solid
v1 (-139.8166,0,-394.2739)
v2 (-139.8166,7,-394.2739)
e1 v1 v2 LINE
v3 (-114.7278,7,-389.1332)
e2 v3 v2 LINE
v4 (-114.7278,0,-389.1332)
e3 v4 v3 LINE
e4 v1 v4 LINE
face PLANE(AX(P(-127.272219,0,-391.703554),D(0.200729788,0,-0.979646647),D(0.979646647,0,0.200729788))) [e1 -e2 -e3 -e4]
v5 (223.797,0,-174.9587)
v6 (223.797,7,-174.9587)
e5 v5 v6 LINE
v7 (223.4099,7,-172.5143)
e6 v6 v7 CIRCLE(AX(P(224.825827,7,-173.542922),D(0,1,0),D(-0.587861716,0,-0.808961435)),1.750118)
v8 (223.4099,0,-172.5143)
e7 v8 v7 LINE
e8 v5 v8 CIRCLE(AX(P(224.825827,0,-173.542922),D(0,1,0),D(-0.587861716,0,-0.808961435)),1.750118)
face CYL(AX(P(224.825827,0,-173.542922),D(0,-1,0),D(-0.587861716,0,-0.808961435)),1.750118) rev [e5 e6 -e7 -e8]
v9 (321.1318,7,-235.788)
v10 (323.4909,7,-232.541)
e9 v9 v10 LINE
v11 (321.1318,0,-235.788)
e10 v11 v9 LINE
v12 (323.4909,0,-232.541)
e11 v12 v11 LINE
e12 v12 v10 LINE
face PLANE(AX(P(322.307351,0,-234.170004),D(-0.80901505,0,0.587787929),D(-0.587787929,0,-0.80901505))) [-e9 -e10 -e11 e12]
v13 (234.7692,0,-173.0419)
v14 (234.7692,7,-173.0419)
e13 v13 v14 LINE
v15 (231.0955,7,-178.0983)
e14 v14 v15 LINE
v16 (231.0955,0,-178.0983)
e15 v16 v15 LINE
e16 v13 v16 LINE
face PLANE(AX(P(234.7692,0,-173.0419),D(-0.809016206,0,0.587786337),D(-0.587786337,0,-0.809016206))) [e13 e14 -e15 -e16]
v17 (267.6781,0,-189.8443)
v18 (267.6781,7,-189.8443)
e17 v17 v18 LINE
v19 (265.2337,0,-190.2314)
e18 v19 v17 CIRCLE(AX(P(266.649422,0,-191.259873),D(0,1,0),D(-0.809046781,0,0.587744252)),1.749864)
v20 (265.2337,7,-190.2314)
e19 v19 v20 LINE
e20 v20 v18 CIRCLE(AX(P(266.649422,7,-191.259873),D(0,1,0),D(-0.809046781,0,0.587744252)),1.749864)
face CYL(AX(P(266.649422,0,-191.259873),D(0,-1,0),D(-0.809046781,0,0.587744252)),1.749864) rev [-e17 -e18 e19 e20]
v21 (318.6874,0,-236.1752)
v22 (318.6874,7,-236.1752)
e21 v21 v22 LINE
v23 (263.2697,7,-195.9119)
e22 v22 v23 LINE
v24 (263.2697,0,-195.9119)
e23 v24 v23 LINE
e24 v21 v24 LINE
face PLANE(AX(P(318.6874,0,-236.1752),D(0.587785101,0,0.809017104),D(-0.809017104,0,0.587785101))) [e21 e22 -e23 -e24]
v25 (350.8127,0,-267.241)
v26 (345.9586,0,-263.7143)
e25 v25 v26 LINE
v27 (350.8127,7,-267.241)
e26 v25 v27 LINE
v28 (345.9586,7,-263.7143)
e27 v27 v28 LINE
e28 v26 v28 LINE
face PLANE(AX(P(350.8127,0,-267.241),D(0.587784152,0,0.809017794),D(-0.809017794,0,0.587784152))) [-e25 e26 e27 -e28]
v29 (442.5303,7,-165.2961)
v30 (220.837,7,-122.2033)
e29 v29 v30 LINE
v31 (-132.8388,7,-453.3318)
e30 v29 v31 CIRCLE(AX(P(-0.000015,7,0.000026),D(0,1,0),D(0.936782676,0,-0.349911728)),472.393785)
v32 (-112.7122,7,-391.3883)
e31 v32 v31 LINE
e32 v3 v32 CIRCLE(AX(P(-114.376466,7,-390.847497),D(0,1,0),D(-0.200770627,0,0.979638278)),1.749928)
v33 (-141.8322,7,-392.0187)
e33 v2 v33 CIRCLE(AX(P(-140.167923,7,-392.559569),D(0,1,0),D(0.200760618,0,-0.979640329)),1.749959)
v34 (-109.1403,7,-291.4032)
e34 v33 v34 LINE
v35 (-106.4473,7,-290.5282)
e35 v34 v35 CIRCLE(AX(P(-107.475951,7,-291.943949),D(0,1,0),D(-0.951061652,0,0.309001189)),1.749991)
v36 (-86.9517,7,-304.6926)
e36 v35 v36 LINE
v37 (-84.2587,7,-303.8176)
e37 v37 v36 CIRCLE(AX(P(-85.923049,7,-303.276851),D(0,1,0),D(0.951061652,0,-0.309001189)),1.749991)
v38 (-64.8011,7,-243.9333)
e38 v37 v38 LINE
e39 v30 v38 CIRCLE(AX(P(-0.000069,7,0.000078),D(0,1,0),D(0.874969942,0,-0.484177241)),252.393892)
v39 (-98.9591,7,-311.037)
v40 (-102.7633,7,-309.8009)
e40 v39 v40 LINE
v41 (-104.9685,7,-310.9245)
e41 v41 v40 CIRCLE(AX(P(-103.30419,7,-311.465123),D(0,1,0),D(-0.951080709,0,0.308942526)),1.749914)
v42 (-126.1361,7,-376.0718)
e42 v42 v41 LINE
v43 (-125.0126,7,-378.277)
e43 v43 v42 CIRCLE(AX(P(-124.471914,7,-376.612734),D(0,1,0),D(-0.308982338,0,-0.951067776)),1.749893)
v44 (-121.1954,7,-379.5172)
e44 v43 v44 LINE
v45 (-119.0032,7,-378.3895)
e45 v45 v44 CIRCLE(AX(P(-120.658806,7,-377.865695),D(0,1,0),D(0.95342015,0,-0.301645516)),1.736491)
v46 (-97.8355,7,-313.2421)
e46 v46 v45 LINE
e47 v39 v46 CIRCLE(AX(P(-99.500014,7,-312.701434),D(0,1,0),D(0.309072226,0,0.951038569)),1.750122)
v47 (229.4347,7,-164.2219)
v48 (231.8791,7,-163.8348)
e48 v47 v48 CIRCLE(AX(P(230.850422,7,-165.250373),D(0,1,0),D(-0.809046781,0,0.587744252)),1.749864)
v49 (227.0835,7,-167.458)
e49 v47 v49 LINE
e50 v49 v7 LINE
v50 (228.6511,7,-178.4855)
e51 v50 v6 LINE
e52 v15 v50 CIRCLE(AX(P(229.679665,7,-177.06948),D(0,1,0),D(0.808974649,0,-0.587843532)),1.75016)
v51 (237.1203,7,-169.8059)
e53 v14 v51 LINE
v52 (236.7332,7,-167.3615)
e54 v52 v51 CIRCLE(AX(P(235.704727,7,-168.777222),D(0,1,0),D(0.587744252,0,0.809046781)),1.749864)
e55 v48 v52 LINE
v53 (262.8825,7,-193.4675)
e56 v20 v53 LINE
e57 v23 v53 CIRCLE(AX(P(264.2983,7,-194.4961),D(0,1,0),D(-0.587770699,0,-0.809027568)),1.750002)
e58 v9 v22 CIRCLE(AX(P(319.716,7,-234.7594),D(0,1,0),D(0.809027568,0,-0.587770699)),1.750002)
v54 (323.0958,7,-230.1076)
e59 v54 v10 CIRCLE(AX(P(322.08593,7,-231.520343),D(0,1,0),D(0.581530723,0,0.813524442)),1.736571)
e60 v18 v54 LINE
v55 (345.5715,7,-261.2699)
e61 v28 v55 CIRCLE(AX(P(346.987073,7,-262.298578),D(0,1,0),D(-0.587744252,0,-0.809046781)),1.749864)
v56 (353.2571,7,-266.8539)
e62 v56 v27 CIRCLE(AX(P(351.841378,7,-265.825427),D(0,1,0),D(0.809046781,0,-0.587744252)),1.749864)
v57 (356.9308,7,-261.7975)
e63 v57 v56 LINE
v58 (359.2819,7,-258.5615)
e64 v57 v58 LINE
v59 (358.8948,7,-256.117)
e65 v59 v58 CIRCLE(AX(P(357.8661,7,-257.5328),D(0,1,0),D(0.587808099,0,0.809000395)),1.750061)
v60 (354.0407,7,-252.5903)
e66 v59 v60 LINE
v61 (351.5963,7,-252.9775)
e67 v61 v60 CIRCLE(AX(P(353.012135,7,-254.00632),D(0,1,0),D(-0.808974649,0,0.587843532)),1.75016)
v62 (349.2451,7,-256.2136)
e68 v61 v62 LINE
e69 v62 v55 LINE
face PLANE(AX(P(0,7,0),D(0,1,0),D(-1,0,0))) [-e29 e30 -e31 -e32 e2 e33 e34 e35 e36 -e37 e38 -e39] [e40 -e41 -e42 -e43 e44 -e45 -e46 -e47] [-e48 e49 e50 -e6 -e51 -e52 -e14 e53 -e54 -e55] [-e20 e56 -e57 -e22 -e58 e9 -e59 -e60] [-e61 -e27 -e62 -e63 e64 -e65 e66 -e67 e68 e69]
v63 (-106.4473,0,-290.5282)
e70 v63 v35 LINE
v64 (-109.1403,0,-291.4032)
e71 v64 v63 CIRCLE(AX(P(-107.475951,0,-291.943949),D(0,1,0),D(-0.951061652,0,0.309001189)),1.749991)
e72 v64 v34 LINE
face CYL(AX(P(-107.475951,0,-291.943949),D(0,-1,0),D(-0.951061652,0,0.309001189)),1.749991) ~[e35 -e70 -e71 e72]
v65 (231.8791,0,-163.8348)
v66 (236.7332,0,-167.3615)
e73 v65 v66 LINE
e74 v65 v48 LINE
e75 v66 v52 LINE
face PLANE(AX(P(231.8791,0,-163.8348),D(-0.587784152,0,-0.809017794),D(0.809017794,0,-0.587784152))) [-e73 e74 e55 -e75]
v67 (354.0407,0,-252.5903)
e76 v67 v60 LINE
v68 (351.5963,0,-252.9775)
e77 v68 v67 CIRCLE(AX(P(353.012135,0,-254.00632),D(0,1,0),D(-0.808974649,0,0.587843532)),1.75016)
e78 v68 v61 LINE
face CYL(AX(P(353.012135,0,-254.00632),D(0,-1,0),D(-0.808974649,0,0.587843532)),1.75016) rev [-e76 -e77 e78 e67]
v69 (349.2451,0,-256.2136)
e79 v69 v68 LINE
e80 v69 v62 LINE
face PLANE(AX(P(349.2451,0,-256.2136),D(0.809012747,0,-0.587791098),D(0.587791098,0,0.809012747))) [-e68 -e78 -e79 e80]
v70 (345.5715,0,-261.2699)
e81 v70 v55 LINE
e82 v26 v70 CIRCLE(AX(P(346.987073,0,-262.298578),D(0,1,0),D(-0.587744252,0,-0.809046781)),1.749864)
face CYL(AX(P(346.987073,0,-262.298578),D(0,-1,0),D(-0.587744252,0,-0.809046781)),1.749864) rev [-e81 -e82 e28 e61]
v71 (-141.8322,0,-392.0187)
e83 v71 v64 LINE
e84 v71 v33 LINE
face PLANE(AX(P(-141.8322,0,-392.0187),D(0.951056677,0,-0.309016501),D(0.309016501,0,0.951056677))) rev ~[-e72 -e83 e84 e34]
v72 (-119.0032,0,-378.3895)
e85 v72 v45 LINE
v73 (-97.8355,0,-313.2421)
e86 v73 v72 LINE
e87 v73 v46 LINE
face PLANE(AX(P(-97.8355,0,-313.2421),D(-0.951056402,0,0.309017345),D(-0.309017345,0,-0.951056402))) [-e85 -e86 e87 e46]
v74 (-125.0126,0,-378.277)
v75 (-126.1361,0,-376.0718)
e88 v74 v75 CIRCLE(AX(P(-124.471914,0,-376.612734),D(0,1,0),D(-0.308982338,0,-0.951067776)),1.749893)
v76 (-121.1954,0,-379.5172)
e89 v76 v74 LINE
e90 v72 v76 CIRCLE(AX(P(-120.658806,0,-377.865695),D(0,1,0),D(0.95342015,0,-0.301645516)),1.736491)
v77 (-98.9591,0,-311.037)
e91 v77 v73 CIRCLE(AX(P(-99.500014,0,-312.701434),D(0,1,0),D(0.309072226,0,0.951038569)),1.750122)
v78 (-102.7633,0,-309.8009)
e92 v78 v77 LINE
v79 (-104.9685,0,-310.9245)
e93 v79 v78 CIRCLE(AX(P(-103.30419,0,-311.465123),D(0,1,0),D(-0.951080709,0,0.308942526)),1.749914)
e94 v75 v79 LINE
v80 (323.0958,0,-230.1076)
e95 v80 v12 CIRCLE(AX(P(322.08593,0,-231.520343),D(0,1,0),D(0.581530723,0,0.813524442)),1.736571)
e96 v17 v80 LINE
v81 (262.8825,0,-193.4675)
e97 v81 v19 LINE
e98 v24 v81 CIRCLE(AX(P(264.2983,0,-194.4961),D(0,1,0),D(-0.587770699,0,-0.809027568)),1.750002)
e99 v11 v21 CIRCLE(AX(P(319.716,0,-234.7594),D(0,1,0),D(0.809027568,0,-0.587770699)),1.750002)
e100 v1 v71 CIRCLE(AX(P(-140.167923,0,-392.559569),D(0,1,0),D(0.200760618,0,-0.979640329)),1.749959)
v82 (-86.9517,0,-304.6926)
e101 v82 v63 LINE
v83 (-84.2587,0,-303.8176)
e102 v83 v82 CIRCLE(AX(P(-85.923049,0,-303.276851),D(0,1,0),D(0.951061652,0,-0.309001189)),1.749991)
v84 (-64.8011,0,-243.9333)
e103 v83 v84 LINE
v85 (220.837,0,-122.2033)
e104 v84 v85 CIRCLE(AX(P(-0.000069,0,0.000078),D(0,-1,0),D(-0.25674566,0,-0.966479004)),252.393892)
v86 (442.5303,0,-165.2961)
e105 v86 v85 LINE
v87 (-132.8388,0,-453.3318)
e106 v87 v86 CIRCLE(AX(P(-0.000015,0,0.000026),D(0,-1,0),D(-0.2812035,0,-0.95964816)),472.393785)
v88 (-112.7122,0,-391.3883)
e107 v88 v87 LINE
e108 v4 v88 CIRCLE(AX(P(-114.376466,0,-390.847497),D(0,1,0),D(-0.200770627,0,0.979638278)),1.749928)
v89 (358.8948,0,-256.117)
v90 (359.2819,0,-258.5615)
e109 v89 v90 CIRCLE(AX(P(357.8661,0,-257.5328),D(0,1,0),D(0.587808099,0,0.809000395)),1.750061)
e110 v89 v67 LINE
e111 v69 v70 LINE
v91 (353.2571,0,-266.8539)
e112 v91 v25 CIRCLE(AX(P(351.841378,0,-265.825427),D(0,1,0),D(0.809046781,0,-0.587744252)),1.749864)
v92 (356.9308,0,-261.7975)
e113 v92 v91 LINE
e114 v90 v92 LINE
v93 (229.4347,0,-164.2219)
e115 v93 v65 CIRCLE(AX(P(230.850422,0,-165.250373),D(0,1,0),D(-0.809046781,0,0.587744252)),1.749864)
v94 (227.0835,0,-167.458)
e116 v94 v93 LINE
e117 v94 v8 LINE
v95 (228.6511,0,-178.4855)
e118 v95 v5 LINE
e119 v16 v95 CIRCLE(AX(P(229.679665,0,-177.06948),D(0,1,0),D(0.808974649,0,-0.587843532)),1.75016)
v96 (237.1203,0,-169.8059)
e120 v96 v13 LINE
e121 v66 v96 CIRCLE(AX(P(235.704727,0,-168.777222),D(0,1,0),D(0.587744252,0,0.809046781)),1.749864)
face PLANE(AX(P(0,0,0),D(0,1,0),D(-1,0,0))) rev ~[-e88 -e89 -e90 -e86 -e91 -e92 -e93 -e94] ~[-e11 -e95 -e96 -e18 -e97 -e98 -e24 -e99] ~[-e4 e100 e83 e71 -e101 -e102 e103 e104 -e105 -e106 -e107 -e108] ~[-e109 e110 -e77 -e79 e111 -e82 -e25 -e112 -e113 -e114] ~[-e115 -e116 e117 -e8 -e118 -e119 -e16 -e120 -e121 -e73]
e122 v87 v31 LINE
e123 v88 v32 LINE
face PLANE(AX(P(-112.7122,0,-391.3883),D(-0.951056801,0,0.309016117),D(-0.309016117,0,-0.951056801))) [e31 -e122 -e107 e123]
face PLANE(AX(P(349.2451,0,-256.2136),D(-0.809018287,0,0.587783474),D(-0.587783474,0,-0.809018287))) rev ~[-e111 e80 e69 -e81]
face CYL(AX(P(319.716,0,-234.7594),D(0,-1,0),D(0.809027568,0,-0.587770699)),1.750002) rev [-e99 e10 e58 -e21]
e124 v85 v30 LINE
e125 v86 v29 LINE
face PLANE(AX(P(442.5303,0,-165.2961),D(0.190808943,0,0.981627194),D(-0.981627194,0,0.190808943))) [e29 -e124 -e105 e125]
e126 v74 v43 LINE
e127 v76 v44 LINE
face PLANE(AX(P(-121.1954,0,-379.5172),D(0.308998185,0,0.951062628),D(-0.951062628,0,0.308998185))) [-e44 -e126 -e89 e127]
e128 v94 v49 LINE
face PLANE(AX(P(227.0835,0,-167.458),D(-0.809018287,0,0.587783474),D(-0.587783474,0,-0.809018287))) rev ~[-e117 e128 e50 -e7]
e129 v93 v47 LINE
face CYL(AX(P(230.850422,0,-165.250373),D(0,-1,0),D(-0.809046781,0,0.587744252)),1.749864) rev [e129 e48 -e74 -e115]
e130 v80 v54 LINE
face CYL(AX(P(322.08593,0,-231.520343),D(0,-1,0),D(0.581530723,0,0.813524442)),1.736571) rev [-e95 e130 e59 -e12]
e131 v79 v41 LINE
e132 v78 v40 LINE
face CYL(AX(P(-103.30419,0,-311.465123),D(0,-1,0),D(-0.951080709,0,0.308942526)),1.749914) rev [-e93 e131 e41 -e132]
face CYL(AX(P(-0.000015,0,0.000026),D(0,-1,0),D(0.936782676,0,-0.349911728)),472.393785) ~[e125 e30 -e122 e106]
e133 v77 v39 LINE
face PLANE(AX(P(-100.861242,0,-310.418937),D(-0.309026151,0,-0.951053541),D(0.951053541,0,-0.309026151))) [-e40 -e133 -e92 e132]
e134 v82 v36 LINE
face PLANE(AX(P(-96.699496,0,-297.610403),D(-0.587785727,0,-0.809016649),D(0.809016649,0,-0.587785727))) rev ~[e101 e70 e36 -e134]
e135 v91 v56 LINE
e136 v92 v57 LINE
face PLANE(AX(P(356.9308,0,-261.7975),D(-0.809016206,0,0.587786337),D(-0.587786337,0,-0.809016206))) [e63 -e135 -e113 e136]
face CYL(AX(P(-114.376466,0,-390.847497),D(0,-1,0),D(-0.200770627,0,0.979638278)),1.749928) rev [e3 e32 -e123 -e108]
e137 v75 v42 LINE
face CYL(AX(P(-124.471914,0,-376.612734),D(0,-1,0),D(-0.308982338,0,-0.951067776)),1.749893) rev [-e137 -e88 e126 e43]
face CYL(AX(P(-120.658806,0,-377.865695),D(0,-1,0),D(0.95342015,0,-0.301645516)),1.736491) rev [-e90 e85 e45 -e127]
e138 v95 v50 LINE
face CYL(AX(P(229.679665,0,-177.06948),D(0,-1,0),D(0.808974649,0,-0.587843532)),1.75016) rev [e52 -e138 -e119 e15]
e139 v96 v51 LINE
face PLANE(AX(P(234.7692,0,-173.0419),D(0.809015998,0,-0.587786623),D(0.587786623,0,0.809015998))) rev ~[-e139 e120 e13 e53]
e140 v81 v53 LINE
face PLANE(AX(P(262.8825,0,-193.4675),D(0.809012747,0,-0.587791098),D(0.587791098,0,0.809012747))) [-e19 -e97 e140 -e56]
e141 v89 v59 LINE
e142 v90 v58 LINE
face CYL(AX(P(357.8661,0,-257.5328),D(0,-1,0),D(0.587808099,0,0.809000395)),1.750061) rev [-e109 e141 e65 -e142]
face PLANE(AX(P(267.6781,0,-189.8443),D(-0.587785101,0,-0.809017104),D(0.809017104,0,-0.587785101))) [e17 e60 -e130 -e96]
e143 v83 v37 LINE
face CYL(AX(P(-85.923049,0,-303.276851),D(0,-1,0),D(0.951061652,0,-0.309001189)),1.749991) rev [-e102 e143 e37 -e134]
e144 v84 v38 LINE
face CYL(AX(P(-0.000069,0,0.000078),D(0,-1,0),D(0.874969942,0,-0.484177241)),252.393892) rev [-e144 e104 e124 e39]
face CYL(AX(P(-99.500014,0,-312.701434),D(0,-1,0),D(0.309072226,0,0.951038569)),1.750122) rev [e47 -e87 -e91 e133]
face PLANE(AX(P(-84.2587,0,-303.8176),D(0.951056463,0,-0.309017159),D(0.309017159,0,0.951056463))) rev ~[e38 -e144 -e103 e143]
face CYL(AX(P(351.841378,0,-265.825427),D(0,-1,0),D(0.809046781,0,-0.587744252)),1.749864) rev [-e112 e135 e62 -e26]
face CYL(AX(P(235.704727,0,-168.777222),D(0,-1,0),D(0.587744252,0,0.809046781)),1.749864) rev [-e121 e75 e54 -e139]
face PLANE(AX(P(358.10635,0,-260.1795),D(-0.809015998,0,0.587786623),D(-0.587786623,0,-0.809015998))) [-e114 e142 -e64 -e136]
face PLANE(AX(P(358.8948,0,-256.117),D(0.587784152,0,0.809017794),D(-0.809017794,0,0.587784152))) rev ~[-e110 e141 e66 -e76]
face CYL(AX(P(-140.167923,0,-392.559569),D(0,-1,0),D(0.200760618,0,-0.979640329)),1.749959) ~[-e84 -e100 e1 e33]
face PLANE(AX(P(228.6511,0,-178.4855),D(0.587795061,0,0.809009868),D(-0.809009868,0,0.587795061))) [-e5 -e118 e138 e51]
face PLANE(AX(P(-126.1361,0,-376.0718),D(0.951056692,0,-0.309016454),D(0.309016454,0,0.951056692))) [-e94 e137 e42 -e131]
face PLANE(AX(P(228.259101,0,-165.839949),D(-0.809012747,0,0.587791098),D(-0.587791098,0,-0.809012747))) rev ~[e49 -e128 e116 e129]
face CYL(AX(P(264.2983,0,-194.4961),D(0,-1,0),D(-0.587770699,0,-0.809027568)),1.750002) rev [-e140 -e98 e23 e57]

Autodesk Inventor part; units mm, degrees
ref_plane "YZ Plane" through (0, 0, 0) normal (1, 0, 0) x (0, 1, 0)
ref_plane "XZ Plane" through (0, 0, 0) normal (0, 1, 0) x (-1, 0, 0)
ref_plane "XY Plane" through (0, 0, 0) normal (0, 0, 1) x (1, 0, 0)
sketch "Sketch1" plane through (0, 0, 0) normal (0, 1, 0) x (-1, 0, 0)
  line L0 (0, 0) -> (618.9442, 0)
  line L1 (0, 0) -> (191.2643, 588.6509)
  line L2 (0, 0) -> (-500.7364, 363.8063)
  line L3 (0, 0) -> (-500.7364, -363.8063)
  line L4 (0, 0) -> (191.2643, -588.6509)
  line L5 (396.6438, 3.75) -> (328.1438, 3.75)
  line L6 (328.1438, -3.75) -> (396.6438, -3.75)
  arc A0 (472.3938, 0) -> (145.9777, 449.2732) centre (0, 0) ccw
  arc A1 (77.994, -240.0408) -> (252.3938, 0) centre (0, 0) ccw
  line L7 (289.8938, 3.75) -> (283.8938, 3.75)
  line L8 (283.8938, -3.75) -> (289.8938, -3.75)
  arc A2 (328.1438, 3.75) -> (326.3938, 2) centre (328.1438, 2) ccw
  arc A3 (326.3938, -2) -> (328.1438, -3.75) centre (328.1438, -2) ccw
  line L9 (326.3938, 2) -> (326.3938, -2)
  arc A4 (398.3938, 2) -> (396.6438, 3.75) centre (396.6438, 2) ccw
  arc A5 (396.6438, -3.75) -> (398.3938, -2.0136) centre (396.6573, -2.0136) ccw
  line L10 (398.3938, -2.0136) -> (398.3938, 2)
  line L11 (362.3938, -3.75) -> (362.3938, 32.9806)
  arc A6 (283.8938, 3.75) -> (282.1438, 2) centre (283.8938, 2) ccw
  arc A7 (282.1438, -2) -> (283.8938, -3.75) centre (283.8938, -2) ccw
  arc A8 (289.8938, -3.75) -> (291.6438, -2) centre (289.8938, -2) ccw
  arc A9 (291.6438, 2) -> (289.8938, 3.75) centre (289.8938, 2) ccw
  line L12 (291.6438, 2) -> (291.6438, -2)
  line L13 (282.1438, -2) -> (282.1438, 2)
  line L14 (434.8938, 3.75) -> (440.8938, 3.75)
  line L15 (440.8938, -3.75) -> (434.8938, -3.75)
  arc A10 (442.6438, 2) -> (440.8938, 3.75) centre (440.8938, 2) ccw
  arc A11 (440.8938, -3.75) -> (442.6438, -2) centre (440.8938, -2) ccw
  arc A12 (433.1438, -2) -> (434.8938, -3.75) centre (434.8938, -2) ccw
  arc A13 (434.8938, 3.75) -> (433.1438, 2) centre (434.8938, 2) ccw
  line L16 (433.1438, 2) -> (433.1438, -2)
  line L17 (442.6438, -2) -> (442.6438, 2)
  line L18 (131.9467, 412.5623) -> (135.7509, 411.3262)
  arc A14 (130.8231, 414.7674) -> (131.9467, 412.5623) centre (132.4875, 414.2266) ccw
  arc A15 (135.7509, 411.3262) -> (137.956, 412.4498) centre (136.2917, 412.9905) ccw
  line L19 (139.8101, 418.1561) -> (137.956, 412.4498)
  line L20 (130.8231, 414.7674) -> (132.6772, 420.4737)
  arc A16 (134.8823, 421.5973) -> (132.6772, 420.4737) centre (134.3416, 419.9329) ccw
  line L21 (138.6866, 420.3612) -> (134.8823, 421.5973)
  arc A17 (139.8101, 418.1561) -> (138.6866, 420.3612) centre (138.1458, 418.6969) ccw
  line L22 (125.0255, 378.2728) -> (121.2083, 379.513)
  arc A18 (121.2083, 379.513) -> (119.0032, 378.3895) centre (120.6676, 377.8487) ccw
  arc A19 (126.1361, 376.0718) -> (125.0255, 378.2728) centre (124.4888, 376.6213) ccw
  line L23 (119.0032, 378.3895) -> (97.8355, 313.2421)
  line L24 (98.9591, 311.037) -> (102.7633, 309.8009)
  arc A20 (97.8355, 313.2421) -> (98.9591, 311.037) centre (99.4999, 312.7013) ccw
  arc A21 (102.7633, 309.8009) -> (104.9685, 310.9245) centre (103.3041, 311.4652) ccw
  line L25 (104.9685, 310.9245) -> (126.1361, 376.0718)
  line L26 (88.2208, 277.9878) -> (92.025, 276.7517)
  arc A22 (93.1486, 274.5466) -> (92.025, 276.7517) centre (91.4842, 275.0873) ccw
  line L27 (91.2945, 268.8402) -> (93.1486, 274.5466)
  arc A23 (88.2208, 277.9878) -> (86.0156, 276.8642) centre (87.68, 276.3234) ccw
  line L28 (86.0156, 276.8642) -> (84.1615, 271.1578)
  arc A24 (84.1615, 271.1578) -> (85.2851, 268.9527) centre (85.8259, 270.6171) ccw
  arc A25 (89.0893, 267.7166) -> (91.2945, 268.8402) centre (89.6301, 269.381) ccw
  line L29 (89.0893, 267.7166) -> (85.2851, 268.9527)
  line L30 (-351.5963, 252.9775) -> (-349.2451, 256.2136)
  arc A26 (-354.0407, 252.5903) -> (-351.5963, 252.9775) centre (-353.012, 254.0061) ccw
  arc A27 (-349.2451, 256.2136) -> (-349.6323, 258.658) centre (-350.6609, 257.2422) ccw
  line L31 (-354.4864, 262.1847) -> (-349.6323, 258.658)
  line L32 (-354.0407, 252.5903) -> (-358.8948, 256.1171)
  arc A28 (-359.2819, 258.5615) -> (-358.8948, 256.1171) centre (-357.8661, 257.5328) ccw
  line L33 (-356.9308, 261.7975) -> (-359.2819, 258.5615)
  arc A29 (-354.4864, 262.1847) -> (-356.9308, 261.7975) centre (-355.515, 260.7689) ccw
  line L34 (-321.1238, 235.799) -> (-323.4829, 232.552)
  arc A30 (-323.4829, 232.552) -> (-323.0958, 230.1076) centre (-322.0671, 231.5233) ccw
  arc A31 (-318.6874, 236.1752) -> (-321.1238, 235.799) centre (-319.7189, 234.7783) ccw
  line L35 (-323.0958, 230.1076) -> (-267.6781, 189.8443)
  line L36 (-265.2337, 190.2314) -> (-262.8825, 193.4675)
  arc A32 (-267.6781, 189.8443) -> (-265.2337, 190.2314) centre (-266.6495, 191.26) ccw
  arc A33 (-262.8825, 193.4675) -> (-263.2697, 195.9119) centre (-264.2983, 194.4961) ccw
  line L37 (-263.2697, 195.9119) -> (-318.6874, 236.1752)
  line L38 (-237.1203, 169.8059) -> (-234.7692, 173.0419)
  arc A34 (-232.3248, 173.4291) -> (-234.7692, 173.0419) centre (-233.3534, 172.0133) ccw
  line L39 (-227.4707, 169.9024) -> (-232.3248, 173.4291)
  arc A35 (-237.1203, 169.8059) -> (-236.7332, 167.3615) centre (-235.7046, 168.7773) ccw
  line L40 (-236.7332, 167.3615) -> (-231.8791, 163.8348)
  arc A36 (-231.8791, 163.8348) -> (-229.4347, 164.2219) centre (-230.8505, 165.2505) ccw
  arc A37 (-227.0835, 167.458) -> (-227.4707, 169.9024) centre (-228.4993, 168.4866) ccw
  line L41 (-227.0835, 167.458) -> (-229.4347, 164.2219)
  line L42 (-349.2451, -256.2136) -> (-351.5963, -252.9775)
  arc A38 (-349.6323, -258.658) -> (-349.2451, -256.2136) centre (-350.6609, -257.2422) ccw
  arc A39 (-351.5963, -252.9775) -> (-354.0407, -252.5903) centre (-353.012, -254.0061) ccw
  line L43 (-358.8948, -256.117) -> (-354.0407, -252.5903)
  line L44 (-349.6323, -258.658) -> (-354.4864, -262.1847)
  arc A40 (-356.9308, -261.7975) -> (-354.4864, -262.1847) centre (-355.515, -260.7689) ccw
  line L45 (-359.2819, -258.5615) -> (-356.9308, -261.7975)
  arc A41 (-358.8948, -256.117) -> (-359.2819, -258.5615) centre (-357.8661, -257.5328) ccw
  line L46 (-323.4909, -232.541) -> (-321.1318, -235.788)
  arc A42 (-321.1318, -235.788) -> (-318.6874, -236.1752) centre (-319.716, -234.7594) ccw
  arc A43 (-323.0958, -230.1076) -> (-323.4909, -232.541) centre (-322.086, -231.5203) ccw
  line L47 (-318.6874, -236.1752) -> (-263.2697, -195.9119)
  line L48 (-262.8825, -193.4675) -> (-265.2337, -190.2314)
  arc A44 (-263.2697, -195.9119) -> (-262.8825, -193.4675) centre (-264.2983, -194.4961) ccw
  arc A45 (-265.2337, -190.2314) -> (-267.6781, -189.8443) centre (-266.6495, -191.26) ccw
  line L49 (-267.6781, -189.8443) -> (-323.0958, -230.1076)
  line L50 (-234.7692, -173.0419) -> (-237.1203, -169.8059)
  arc A46 (-236.7332, -167.3615) -> (-237.1203, -169.8059) centre (-235.7046, -168.7773) ccw
  line L51 (-231.8791, -163.8348) -> (-236.7332, -167.3615)
  arc A47 (-234.7692, -173.0419) -> (-232.3248, -173.4291) centre (-233.3534, -172.0133) ccw
  line L52 (-232.3248, -173.4291) -> (-227.4707, -169.9024)
  arc A48 (-227.4707, -169.9024) -> (-227.0835, -167.458) centre (-228.4993, -168.4866) ccw
  arc A49 (-229.4347, -164.2219) -> (-231.8791, -163.8348) centre (-230.8505, -165.2505) ccw
  line L53 (-229.4347, -164.2219) -> (-227.0835, -167.458)
  line L54 (135.7509, -411.3262) -> (131.9467, -412.5623)
  arc A50 (137.956, -412.4498) -> (135.7509, -411.3262) centre (136.2917, -412.9905) ccw
  arc A51 (131.9467, -412.5623) -> (130.8231, -414.7674) centre (132.4875, -414.2266) ccw
  line L55 (132.6772, -420.4737) -> (130.8231, -414.7674)
  line L56 (137.956, -412.4498) -> (139.8101, -418.1561)
  arc A52 (138.6866, -420.3612) -> (139.8101, -418.1561) centre (138.1458, -418.6969) ccw
  line L57 (134.8823, -421.5973) -> (138.6866, -420.3612)
  arc A53 (132.6772, -420.4737) -> (134.8823, -421.5973) centre (134.3416, -419.9329) ccw
  line L58 (121.1954, -379.5172) -> (125.0126, -378.277)
  arc A54 (125.0126, -378.277) -> (126.1361, -376.0718) centre (124.4718, -376.6126) ccw
  arc A55 (119.0032, -378.3895) -> (121.1954, -379.5172) centre (120.6588, -377.8657) ccw
  line L59 (126.1361, -376.0718) -> (104.9685, -310.9245)
  line L60 (102.7633, -309.8009) -> (98.9591, -311.037)
  arc A56 (104.9685, -310.9245) -> (102.7633, -309.8009) centre (103.3041, -311.4652) ccw
  arc A57 (98.9591, -311.037) -> (97.8355, -313.2421) centre (99.4999, -312.7013) ccw
  line L61 (97.8355, -313.2421) -> (119.0032, -378.3895)
  line L62 (92.025, -276.7517) -> (88.2208, -277.9878)
  arc A58 (86.0156, -276.8642) -> (88.2208, -277.9878) centre (87.68, -276.3234) ccw
  line L63 (84.1615, -271.1578) -> (86.0156, -276.8642)
  arc A59 (92.025, -276.7517) -> (93.1486, -274.5466) centre (91.4842, -275.0873) ccw
  line L64 (93.1486, -274.5466) -> (91.2945, -268.8402)
  arc A60 (91.2945, -268.8402) -> (89.0893, -267.7166) centre (89.6301, -269.381) ccw
  arc A61 (85.2851, -268.9527) -> (84.1615, -271.1578) centre (85.8259, -270.6171) ccw
  line L65 (85.2851, -268.9527) -> (89.0893, -267.7166)
  line L66 (-442.5303, 165.2961) -> (-220.837, 122.2033)
  line L67 (-442.5303, -165.2961) -> (-220.837, -122.2033)
  arc A62 (252.3938, 0) -> (-220.837, 122.2033) centre (0, 0) ccw
  arc A63 (-220.837, -122.2033) -> (77.994, -240.0408) centre (0, 0) ccw
  arc A64 (145.9777, 449.2732) -> (-442.5303, 165.2961) centre (0, 0) ccw
  arc A65 (-442.5303, -165.2961) -> (472.3938, 0) centre (0, 0) ccw
  line L68 (115.6782, 400.5167) -> (82.9862, 299.9012)
  line L69 (84.6505, 297.6104) -> (108.7484, 297.6104)
  line L70 (110.4128, 295.3196) -> (90.9552, 235.4353)
  line L71 (138.8662, 382.8904) -> (158.9929, 444.8338)
  line L72 (118.6344, 401.1564) -> (135.91, 382.2507)
  line L73 (123.1169, 378.8929) -> (127.2722, 391.7035) construction
  line L74 (100.8612, 310.4189) -> (96.6995, 297.6104) construction
  arc A66 (135.91, 382.2507) -> (138.8662, 382.8904) centre (137.2019, 383.4311) ccw
  arc A67 (118.6344, 401.1564) -> (115.6782, 400.5167) centre (117.3425, 399.9759) ccw
  arc A68 (82.9862, 299.9012) -> (84.6505, 297.6104) centre (84.6505, 299.3604) ccw
  arc A69 (110.4128, 295.3196) -> (108.7484, 297.6104) centre (108.7484, 295.8604) ccw
  line L75 (407.0624, -13.75) -> (472.1936, -13.75)
  arc A70 (405.5405, -11.1361) -> (407.0624, -13.75) centre (407.0624, -12) ccw
  line L76 (418.1824, 11.1361) -> (405.5405, -11.1361)
  arc A71 (418.1824, 11.1361) -> (416.6605, 13.75) centre (416.6605, 12) ccw
  line L77 (416.6605, 13.75) -> (310.8671, 13.75)
  line L78 (309.2028, 11.4592) -> (316.6494, -11.4592)
  arc A72 (310.8671, 13.75) -> (309.2028, 11.4592) centre (310.8671, 12) ccw
  arc A73 (314.9851, -13.75) -> (316.6494, -11.4592) centre (314.9851, -12) ccw
  line L79 (314.9851, -13.75) -> (252.019, -13.75)
  line L80 (112.7122, -391.3883) -> (132.8388, -453.3318)
  arc A74 (114.7278, -389.1332) -> (112.7122, -391.3883) centre (114.3765, -390.8476) ccw
  line L81 (139.8166, -394.2739) -> (114.7278, -389.1332)
  arc A75 (139.8166, -394.2739) -> (141.8322, -392.0187) centre (140.1679, -392.5595) ccw
  line L82 (141.8322, -392.0187) -> (109.1403, -291.4032)
  line L83 (106.4473, -290.5282) -> (86.9517, -304.6926)
  arc A76 (109.1403, -291.4032) -> (106.4473, -290.5282) centre (107.4759, -291.944) ccw
  arc A77 (84.2587, -303.8176) -> (86.9517, -304.6926) centre (85.9231, -303.2768) ccw
  line L84 (84.2587, -303.8176) -> (64.8011, -243.9333)
  line L85 (-359.2819, 258.5615) -> (-362.9556, 253.5051)
  line L86 (-362.5684, 251.0607) -> (-357.7143, 247.534)
  line L87 (-351.5963, 252.9775) -> (-355.2699, 247.9211)
  arc A78 (-362.9556, 253.5051) -> (-362.5684, 251.0607) centre (-361.5398, 252.4765) ccw
  arc A79 (-357.7143, 247.534) -> (-355.2699, 247.9211) centre (-356.6857, 248.9498) ccw
  line L88 (-237.1203, 169.8059) -> (-240.794, 164.7495)
  line L89 (-240.4068, 162.3051) -> (-235.5527, 158.7784)
  line L90 (-229.4347, 164.2219) -> (-233.1083, 159.1656)
  arc A80 (-240.794, 164.7495) -> (-240.4068, 162.3051) centre (-239.3782, 163.7209) ccw
  arc A81 (-235.5527, 158.7784) -> (-233.1083, 159.1656) centre (-234.5241, 160.1942) ccw
  line L91 (-356.9308, -261.7975) -> (-353.2571, -266.8539)
  arc A82 (-353.2571, -266.8539) -> (-350.8127, -267.241) centre (-351.8413, -265.8253) ccw
  line L92 (-350.8127, -267.241) -> (-345.9586, -263.7143)
  arc A83 (-345.9586, -263.7143) -> (-345.5715, -261.2699) centre (-346.9872, -262.2985) ccw
  line L93 (-349.2451, -256.2136) -> (-345.5715, -261.2699)
  line L94 (-234.7692, -173.0419) -> (-231.0955, -178.0983)
  arc A84 (-231.0955, -178.0983) -> (-228.6511, -178.4855) centre (-229.6798, -177.0697) ccw
  line L95 (-228.6511, -178.4855) -> (-223.797, -174.9587)
  arc A85 (-223.797, -174.9587) -> (-223.4099, -172.5143) centre (-224.8257, -173.543) ccw
  line L96 (-227.0835, -167.458) -> (-223.4099, -172.5143)
  line L97 (138.6866, -420.3612) -> (144.6307, -418.4299)
  arc A86 (144.6307, -418.4299) -> (145.7542, -416.2247) centre (144.0899, -416.7655) ccw
  line L98 (145.7542, -416.2247) -> (143.9001, -410.5184)
  arc A87 (143.9001, -410.5184) -> (141.695, -409.3948) centre (142.2358, -411.0592) ccw
  line L99 (135.7509, -411.3262) -> (141.695, -409.3948)
  line L100 (92.025, -276.7517) -> (97.9691, -274.8203)
  arc A88 (97.9691, -274.8203) -> (99.0927, -272.6152) centre (97.4283, -273.156) ccw
  line L101 (99.0927, -272.6152) -> (97.2386, -266.9089)
  arc A89 (97.2386, -266.9089) -> (95.0334, -265.7853) centre (95.5742, -267.4496) ccw
  line L102 (89.0893, -267.7166) -> (95.0334, -265.7853)
  line L103 (442.6438, 2) -> (442.6438, 8.25)
  arc A90 (442.6438, 8.25) -> (440.8938, 10) centre (440.8938, 8.25) ccw
  line L104 (440.8938, 10) -> (434.8938, 10)
  arc A91 (434.8938, 10) -> (433.1438, 8.25) centre (434.8938, 8.25) ccw
  line L105 (433.1438, 2) -> (433.1438, 8.25)
  line L106 (291.6438, 2) -> (291.6438, 8.25)
  arc A92 (291.6438, 8.25) -> (289.8938, 10) centre (289.8938, 8.25) ccw
  line L107 (289.8938, 10) -> (283.8938, 10)
  arc A93 (283.8938, 10) -> (282.1438, 8.25) centre (283.8938, 8.25) ccw
  line L108 (282.1438, 2) -> (282.1438, 8.25)
  line L109 (134.8823, 421.5973) -> (128.9382, 423.5286)
  arc A94 (128.9382, 423.5286) -> (126.7331, 422.4051) centre (128.3975, 421.8643) ccw
  line L110 (126.7331, 422.4051) -> (124.879, 416.6987)
  arc A95 (124.879, 416.6987) -> (126.0026, 414.4936) centre (126.5434, 416.158) ccw
  line L111 (131.9467, 412.5623) -> (126.0026, 414.4936)
  line L112 (88.2208, 277.9878) -> (82.2767, 279.9191)
  arc A96 (82.2767, 279.9191) -> (80.0715, 278.7955) centre (81.7359, 278.2548) ccw
  line L113 (80.0715, 278.7955) -> (78.2174, 273.0892)
  arc A97 (78.2174, 273.0892) -> (79.341, 270.8841) centre (79.8818, 272.5484) ccw
  line L114 (85.2851, 268.9527) -> (79.341, 270.8841)
  point P0 (115.5523, 343.4982)
  point P1 (-290.9785, 216.0435)
  point P2 (-295.3869, -209.9759)
  point P3 (108.4194, -345.8158)
  point P4 (137.9375, 380.0319)
  point P5 (97.9406, 311.9068)
  point P6 (104.0986, 309.906)
  point P7 (119.8731, 379.408)
  point P8 (404.0568, -13.75)
  point P9 (411.8615, 0)
  point P10 (312.9261, 0)
  point P11 (111.7834, -388.5299)
  point P12 (127.2722, -391.7035)
  point P13 (96.6995, -297.6104)
  point P14 (282.1438, 2)
  point P15 (442.6438, 2)
  dimension "d4" = 360
  dimension "d6" = 7.5
  dimension "d7" = 7.5
  dimension "d9" = 68.5
  dimension "d10" = 7.5
  dimension "d11" = 7.5
  dimension "d12" = 3.5
  dimension "d13" = 3.5
  dimension "d19" = 360
  dimension "d21" = 25
  dimension "d25" = 10
  dimension "d26" = 10
  dimension "d27" = 1.75
  dimension "d30" = 144
  dimension "d34" = 0
  dimension "d35" = 8
  dimension "d36" = 1.75
  dimension "d43" = 8
  dimension "d44" = 1.75
  dimension "d47" = 360
extrude "Extrusion1" add sketch "Sketch1" along normal blind 7 contours A63 L84 A77 L83 L4 L60 A57 L61 A55 L58 L81 A74 L80 A65 L3 L45 L91 A82 L92 A83 L93 L42 L46 A42 L47 A44 L48 L50 L94 A84 L95 A85 L96 L53 | L3 L53 A49 L51 A46 L50 L48 A45 L49 A43 L46 L42 A39 L43 A41 L45 A65 L67 A63 | L83 A76 L82 A75 L81 L4 L58 A54 L59 A56 L60
properties part number "Level 3a - V2"
